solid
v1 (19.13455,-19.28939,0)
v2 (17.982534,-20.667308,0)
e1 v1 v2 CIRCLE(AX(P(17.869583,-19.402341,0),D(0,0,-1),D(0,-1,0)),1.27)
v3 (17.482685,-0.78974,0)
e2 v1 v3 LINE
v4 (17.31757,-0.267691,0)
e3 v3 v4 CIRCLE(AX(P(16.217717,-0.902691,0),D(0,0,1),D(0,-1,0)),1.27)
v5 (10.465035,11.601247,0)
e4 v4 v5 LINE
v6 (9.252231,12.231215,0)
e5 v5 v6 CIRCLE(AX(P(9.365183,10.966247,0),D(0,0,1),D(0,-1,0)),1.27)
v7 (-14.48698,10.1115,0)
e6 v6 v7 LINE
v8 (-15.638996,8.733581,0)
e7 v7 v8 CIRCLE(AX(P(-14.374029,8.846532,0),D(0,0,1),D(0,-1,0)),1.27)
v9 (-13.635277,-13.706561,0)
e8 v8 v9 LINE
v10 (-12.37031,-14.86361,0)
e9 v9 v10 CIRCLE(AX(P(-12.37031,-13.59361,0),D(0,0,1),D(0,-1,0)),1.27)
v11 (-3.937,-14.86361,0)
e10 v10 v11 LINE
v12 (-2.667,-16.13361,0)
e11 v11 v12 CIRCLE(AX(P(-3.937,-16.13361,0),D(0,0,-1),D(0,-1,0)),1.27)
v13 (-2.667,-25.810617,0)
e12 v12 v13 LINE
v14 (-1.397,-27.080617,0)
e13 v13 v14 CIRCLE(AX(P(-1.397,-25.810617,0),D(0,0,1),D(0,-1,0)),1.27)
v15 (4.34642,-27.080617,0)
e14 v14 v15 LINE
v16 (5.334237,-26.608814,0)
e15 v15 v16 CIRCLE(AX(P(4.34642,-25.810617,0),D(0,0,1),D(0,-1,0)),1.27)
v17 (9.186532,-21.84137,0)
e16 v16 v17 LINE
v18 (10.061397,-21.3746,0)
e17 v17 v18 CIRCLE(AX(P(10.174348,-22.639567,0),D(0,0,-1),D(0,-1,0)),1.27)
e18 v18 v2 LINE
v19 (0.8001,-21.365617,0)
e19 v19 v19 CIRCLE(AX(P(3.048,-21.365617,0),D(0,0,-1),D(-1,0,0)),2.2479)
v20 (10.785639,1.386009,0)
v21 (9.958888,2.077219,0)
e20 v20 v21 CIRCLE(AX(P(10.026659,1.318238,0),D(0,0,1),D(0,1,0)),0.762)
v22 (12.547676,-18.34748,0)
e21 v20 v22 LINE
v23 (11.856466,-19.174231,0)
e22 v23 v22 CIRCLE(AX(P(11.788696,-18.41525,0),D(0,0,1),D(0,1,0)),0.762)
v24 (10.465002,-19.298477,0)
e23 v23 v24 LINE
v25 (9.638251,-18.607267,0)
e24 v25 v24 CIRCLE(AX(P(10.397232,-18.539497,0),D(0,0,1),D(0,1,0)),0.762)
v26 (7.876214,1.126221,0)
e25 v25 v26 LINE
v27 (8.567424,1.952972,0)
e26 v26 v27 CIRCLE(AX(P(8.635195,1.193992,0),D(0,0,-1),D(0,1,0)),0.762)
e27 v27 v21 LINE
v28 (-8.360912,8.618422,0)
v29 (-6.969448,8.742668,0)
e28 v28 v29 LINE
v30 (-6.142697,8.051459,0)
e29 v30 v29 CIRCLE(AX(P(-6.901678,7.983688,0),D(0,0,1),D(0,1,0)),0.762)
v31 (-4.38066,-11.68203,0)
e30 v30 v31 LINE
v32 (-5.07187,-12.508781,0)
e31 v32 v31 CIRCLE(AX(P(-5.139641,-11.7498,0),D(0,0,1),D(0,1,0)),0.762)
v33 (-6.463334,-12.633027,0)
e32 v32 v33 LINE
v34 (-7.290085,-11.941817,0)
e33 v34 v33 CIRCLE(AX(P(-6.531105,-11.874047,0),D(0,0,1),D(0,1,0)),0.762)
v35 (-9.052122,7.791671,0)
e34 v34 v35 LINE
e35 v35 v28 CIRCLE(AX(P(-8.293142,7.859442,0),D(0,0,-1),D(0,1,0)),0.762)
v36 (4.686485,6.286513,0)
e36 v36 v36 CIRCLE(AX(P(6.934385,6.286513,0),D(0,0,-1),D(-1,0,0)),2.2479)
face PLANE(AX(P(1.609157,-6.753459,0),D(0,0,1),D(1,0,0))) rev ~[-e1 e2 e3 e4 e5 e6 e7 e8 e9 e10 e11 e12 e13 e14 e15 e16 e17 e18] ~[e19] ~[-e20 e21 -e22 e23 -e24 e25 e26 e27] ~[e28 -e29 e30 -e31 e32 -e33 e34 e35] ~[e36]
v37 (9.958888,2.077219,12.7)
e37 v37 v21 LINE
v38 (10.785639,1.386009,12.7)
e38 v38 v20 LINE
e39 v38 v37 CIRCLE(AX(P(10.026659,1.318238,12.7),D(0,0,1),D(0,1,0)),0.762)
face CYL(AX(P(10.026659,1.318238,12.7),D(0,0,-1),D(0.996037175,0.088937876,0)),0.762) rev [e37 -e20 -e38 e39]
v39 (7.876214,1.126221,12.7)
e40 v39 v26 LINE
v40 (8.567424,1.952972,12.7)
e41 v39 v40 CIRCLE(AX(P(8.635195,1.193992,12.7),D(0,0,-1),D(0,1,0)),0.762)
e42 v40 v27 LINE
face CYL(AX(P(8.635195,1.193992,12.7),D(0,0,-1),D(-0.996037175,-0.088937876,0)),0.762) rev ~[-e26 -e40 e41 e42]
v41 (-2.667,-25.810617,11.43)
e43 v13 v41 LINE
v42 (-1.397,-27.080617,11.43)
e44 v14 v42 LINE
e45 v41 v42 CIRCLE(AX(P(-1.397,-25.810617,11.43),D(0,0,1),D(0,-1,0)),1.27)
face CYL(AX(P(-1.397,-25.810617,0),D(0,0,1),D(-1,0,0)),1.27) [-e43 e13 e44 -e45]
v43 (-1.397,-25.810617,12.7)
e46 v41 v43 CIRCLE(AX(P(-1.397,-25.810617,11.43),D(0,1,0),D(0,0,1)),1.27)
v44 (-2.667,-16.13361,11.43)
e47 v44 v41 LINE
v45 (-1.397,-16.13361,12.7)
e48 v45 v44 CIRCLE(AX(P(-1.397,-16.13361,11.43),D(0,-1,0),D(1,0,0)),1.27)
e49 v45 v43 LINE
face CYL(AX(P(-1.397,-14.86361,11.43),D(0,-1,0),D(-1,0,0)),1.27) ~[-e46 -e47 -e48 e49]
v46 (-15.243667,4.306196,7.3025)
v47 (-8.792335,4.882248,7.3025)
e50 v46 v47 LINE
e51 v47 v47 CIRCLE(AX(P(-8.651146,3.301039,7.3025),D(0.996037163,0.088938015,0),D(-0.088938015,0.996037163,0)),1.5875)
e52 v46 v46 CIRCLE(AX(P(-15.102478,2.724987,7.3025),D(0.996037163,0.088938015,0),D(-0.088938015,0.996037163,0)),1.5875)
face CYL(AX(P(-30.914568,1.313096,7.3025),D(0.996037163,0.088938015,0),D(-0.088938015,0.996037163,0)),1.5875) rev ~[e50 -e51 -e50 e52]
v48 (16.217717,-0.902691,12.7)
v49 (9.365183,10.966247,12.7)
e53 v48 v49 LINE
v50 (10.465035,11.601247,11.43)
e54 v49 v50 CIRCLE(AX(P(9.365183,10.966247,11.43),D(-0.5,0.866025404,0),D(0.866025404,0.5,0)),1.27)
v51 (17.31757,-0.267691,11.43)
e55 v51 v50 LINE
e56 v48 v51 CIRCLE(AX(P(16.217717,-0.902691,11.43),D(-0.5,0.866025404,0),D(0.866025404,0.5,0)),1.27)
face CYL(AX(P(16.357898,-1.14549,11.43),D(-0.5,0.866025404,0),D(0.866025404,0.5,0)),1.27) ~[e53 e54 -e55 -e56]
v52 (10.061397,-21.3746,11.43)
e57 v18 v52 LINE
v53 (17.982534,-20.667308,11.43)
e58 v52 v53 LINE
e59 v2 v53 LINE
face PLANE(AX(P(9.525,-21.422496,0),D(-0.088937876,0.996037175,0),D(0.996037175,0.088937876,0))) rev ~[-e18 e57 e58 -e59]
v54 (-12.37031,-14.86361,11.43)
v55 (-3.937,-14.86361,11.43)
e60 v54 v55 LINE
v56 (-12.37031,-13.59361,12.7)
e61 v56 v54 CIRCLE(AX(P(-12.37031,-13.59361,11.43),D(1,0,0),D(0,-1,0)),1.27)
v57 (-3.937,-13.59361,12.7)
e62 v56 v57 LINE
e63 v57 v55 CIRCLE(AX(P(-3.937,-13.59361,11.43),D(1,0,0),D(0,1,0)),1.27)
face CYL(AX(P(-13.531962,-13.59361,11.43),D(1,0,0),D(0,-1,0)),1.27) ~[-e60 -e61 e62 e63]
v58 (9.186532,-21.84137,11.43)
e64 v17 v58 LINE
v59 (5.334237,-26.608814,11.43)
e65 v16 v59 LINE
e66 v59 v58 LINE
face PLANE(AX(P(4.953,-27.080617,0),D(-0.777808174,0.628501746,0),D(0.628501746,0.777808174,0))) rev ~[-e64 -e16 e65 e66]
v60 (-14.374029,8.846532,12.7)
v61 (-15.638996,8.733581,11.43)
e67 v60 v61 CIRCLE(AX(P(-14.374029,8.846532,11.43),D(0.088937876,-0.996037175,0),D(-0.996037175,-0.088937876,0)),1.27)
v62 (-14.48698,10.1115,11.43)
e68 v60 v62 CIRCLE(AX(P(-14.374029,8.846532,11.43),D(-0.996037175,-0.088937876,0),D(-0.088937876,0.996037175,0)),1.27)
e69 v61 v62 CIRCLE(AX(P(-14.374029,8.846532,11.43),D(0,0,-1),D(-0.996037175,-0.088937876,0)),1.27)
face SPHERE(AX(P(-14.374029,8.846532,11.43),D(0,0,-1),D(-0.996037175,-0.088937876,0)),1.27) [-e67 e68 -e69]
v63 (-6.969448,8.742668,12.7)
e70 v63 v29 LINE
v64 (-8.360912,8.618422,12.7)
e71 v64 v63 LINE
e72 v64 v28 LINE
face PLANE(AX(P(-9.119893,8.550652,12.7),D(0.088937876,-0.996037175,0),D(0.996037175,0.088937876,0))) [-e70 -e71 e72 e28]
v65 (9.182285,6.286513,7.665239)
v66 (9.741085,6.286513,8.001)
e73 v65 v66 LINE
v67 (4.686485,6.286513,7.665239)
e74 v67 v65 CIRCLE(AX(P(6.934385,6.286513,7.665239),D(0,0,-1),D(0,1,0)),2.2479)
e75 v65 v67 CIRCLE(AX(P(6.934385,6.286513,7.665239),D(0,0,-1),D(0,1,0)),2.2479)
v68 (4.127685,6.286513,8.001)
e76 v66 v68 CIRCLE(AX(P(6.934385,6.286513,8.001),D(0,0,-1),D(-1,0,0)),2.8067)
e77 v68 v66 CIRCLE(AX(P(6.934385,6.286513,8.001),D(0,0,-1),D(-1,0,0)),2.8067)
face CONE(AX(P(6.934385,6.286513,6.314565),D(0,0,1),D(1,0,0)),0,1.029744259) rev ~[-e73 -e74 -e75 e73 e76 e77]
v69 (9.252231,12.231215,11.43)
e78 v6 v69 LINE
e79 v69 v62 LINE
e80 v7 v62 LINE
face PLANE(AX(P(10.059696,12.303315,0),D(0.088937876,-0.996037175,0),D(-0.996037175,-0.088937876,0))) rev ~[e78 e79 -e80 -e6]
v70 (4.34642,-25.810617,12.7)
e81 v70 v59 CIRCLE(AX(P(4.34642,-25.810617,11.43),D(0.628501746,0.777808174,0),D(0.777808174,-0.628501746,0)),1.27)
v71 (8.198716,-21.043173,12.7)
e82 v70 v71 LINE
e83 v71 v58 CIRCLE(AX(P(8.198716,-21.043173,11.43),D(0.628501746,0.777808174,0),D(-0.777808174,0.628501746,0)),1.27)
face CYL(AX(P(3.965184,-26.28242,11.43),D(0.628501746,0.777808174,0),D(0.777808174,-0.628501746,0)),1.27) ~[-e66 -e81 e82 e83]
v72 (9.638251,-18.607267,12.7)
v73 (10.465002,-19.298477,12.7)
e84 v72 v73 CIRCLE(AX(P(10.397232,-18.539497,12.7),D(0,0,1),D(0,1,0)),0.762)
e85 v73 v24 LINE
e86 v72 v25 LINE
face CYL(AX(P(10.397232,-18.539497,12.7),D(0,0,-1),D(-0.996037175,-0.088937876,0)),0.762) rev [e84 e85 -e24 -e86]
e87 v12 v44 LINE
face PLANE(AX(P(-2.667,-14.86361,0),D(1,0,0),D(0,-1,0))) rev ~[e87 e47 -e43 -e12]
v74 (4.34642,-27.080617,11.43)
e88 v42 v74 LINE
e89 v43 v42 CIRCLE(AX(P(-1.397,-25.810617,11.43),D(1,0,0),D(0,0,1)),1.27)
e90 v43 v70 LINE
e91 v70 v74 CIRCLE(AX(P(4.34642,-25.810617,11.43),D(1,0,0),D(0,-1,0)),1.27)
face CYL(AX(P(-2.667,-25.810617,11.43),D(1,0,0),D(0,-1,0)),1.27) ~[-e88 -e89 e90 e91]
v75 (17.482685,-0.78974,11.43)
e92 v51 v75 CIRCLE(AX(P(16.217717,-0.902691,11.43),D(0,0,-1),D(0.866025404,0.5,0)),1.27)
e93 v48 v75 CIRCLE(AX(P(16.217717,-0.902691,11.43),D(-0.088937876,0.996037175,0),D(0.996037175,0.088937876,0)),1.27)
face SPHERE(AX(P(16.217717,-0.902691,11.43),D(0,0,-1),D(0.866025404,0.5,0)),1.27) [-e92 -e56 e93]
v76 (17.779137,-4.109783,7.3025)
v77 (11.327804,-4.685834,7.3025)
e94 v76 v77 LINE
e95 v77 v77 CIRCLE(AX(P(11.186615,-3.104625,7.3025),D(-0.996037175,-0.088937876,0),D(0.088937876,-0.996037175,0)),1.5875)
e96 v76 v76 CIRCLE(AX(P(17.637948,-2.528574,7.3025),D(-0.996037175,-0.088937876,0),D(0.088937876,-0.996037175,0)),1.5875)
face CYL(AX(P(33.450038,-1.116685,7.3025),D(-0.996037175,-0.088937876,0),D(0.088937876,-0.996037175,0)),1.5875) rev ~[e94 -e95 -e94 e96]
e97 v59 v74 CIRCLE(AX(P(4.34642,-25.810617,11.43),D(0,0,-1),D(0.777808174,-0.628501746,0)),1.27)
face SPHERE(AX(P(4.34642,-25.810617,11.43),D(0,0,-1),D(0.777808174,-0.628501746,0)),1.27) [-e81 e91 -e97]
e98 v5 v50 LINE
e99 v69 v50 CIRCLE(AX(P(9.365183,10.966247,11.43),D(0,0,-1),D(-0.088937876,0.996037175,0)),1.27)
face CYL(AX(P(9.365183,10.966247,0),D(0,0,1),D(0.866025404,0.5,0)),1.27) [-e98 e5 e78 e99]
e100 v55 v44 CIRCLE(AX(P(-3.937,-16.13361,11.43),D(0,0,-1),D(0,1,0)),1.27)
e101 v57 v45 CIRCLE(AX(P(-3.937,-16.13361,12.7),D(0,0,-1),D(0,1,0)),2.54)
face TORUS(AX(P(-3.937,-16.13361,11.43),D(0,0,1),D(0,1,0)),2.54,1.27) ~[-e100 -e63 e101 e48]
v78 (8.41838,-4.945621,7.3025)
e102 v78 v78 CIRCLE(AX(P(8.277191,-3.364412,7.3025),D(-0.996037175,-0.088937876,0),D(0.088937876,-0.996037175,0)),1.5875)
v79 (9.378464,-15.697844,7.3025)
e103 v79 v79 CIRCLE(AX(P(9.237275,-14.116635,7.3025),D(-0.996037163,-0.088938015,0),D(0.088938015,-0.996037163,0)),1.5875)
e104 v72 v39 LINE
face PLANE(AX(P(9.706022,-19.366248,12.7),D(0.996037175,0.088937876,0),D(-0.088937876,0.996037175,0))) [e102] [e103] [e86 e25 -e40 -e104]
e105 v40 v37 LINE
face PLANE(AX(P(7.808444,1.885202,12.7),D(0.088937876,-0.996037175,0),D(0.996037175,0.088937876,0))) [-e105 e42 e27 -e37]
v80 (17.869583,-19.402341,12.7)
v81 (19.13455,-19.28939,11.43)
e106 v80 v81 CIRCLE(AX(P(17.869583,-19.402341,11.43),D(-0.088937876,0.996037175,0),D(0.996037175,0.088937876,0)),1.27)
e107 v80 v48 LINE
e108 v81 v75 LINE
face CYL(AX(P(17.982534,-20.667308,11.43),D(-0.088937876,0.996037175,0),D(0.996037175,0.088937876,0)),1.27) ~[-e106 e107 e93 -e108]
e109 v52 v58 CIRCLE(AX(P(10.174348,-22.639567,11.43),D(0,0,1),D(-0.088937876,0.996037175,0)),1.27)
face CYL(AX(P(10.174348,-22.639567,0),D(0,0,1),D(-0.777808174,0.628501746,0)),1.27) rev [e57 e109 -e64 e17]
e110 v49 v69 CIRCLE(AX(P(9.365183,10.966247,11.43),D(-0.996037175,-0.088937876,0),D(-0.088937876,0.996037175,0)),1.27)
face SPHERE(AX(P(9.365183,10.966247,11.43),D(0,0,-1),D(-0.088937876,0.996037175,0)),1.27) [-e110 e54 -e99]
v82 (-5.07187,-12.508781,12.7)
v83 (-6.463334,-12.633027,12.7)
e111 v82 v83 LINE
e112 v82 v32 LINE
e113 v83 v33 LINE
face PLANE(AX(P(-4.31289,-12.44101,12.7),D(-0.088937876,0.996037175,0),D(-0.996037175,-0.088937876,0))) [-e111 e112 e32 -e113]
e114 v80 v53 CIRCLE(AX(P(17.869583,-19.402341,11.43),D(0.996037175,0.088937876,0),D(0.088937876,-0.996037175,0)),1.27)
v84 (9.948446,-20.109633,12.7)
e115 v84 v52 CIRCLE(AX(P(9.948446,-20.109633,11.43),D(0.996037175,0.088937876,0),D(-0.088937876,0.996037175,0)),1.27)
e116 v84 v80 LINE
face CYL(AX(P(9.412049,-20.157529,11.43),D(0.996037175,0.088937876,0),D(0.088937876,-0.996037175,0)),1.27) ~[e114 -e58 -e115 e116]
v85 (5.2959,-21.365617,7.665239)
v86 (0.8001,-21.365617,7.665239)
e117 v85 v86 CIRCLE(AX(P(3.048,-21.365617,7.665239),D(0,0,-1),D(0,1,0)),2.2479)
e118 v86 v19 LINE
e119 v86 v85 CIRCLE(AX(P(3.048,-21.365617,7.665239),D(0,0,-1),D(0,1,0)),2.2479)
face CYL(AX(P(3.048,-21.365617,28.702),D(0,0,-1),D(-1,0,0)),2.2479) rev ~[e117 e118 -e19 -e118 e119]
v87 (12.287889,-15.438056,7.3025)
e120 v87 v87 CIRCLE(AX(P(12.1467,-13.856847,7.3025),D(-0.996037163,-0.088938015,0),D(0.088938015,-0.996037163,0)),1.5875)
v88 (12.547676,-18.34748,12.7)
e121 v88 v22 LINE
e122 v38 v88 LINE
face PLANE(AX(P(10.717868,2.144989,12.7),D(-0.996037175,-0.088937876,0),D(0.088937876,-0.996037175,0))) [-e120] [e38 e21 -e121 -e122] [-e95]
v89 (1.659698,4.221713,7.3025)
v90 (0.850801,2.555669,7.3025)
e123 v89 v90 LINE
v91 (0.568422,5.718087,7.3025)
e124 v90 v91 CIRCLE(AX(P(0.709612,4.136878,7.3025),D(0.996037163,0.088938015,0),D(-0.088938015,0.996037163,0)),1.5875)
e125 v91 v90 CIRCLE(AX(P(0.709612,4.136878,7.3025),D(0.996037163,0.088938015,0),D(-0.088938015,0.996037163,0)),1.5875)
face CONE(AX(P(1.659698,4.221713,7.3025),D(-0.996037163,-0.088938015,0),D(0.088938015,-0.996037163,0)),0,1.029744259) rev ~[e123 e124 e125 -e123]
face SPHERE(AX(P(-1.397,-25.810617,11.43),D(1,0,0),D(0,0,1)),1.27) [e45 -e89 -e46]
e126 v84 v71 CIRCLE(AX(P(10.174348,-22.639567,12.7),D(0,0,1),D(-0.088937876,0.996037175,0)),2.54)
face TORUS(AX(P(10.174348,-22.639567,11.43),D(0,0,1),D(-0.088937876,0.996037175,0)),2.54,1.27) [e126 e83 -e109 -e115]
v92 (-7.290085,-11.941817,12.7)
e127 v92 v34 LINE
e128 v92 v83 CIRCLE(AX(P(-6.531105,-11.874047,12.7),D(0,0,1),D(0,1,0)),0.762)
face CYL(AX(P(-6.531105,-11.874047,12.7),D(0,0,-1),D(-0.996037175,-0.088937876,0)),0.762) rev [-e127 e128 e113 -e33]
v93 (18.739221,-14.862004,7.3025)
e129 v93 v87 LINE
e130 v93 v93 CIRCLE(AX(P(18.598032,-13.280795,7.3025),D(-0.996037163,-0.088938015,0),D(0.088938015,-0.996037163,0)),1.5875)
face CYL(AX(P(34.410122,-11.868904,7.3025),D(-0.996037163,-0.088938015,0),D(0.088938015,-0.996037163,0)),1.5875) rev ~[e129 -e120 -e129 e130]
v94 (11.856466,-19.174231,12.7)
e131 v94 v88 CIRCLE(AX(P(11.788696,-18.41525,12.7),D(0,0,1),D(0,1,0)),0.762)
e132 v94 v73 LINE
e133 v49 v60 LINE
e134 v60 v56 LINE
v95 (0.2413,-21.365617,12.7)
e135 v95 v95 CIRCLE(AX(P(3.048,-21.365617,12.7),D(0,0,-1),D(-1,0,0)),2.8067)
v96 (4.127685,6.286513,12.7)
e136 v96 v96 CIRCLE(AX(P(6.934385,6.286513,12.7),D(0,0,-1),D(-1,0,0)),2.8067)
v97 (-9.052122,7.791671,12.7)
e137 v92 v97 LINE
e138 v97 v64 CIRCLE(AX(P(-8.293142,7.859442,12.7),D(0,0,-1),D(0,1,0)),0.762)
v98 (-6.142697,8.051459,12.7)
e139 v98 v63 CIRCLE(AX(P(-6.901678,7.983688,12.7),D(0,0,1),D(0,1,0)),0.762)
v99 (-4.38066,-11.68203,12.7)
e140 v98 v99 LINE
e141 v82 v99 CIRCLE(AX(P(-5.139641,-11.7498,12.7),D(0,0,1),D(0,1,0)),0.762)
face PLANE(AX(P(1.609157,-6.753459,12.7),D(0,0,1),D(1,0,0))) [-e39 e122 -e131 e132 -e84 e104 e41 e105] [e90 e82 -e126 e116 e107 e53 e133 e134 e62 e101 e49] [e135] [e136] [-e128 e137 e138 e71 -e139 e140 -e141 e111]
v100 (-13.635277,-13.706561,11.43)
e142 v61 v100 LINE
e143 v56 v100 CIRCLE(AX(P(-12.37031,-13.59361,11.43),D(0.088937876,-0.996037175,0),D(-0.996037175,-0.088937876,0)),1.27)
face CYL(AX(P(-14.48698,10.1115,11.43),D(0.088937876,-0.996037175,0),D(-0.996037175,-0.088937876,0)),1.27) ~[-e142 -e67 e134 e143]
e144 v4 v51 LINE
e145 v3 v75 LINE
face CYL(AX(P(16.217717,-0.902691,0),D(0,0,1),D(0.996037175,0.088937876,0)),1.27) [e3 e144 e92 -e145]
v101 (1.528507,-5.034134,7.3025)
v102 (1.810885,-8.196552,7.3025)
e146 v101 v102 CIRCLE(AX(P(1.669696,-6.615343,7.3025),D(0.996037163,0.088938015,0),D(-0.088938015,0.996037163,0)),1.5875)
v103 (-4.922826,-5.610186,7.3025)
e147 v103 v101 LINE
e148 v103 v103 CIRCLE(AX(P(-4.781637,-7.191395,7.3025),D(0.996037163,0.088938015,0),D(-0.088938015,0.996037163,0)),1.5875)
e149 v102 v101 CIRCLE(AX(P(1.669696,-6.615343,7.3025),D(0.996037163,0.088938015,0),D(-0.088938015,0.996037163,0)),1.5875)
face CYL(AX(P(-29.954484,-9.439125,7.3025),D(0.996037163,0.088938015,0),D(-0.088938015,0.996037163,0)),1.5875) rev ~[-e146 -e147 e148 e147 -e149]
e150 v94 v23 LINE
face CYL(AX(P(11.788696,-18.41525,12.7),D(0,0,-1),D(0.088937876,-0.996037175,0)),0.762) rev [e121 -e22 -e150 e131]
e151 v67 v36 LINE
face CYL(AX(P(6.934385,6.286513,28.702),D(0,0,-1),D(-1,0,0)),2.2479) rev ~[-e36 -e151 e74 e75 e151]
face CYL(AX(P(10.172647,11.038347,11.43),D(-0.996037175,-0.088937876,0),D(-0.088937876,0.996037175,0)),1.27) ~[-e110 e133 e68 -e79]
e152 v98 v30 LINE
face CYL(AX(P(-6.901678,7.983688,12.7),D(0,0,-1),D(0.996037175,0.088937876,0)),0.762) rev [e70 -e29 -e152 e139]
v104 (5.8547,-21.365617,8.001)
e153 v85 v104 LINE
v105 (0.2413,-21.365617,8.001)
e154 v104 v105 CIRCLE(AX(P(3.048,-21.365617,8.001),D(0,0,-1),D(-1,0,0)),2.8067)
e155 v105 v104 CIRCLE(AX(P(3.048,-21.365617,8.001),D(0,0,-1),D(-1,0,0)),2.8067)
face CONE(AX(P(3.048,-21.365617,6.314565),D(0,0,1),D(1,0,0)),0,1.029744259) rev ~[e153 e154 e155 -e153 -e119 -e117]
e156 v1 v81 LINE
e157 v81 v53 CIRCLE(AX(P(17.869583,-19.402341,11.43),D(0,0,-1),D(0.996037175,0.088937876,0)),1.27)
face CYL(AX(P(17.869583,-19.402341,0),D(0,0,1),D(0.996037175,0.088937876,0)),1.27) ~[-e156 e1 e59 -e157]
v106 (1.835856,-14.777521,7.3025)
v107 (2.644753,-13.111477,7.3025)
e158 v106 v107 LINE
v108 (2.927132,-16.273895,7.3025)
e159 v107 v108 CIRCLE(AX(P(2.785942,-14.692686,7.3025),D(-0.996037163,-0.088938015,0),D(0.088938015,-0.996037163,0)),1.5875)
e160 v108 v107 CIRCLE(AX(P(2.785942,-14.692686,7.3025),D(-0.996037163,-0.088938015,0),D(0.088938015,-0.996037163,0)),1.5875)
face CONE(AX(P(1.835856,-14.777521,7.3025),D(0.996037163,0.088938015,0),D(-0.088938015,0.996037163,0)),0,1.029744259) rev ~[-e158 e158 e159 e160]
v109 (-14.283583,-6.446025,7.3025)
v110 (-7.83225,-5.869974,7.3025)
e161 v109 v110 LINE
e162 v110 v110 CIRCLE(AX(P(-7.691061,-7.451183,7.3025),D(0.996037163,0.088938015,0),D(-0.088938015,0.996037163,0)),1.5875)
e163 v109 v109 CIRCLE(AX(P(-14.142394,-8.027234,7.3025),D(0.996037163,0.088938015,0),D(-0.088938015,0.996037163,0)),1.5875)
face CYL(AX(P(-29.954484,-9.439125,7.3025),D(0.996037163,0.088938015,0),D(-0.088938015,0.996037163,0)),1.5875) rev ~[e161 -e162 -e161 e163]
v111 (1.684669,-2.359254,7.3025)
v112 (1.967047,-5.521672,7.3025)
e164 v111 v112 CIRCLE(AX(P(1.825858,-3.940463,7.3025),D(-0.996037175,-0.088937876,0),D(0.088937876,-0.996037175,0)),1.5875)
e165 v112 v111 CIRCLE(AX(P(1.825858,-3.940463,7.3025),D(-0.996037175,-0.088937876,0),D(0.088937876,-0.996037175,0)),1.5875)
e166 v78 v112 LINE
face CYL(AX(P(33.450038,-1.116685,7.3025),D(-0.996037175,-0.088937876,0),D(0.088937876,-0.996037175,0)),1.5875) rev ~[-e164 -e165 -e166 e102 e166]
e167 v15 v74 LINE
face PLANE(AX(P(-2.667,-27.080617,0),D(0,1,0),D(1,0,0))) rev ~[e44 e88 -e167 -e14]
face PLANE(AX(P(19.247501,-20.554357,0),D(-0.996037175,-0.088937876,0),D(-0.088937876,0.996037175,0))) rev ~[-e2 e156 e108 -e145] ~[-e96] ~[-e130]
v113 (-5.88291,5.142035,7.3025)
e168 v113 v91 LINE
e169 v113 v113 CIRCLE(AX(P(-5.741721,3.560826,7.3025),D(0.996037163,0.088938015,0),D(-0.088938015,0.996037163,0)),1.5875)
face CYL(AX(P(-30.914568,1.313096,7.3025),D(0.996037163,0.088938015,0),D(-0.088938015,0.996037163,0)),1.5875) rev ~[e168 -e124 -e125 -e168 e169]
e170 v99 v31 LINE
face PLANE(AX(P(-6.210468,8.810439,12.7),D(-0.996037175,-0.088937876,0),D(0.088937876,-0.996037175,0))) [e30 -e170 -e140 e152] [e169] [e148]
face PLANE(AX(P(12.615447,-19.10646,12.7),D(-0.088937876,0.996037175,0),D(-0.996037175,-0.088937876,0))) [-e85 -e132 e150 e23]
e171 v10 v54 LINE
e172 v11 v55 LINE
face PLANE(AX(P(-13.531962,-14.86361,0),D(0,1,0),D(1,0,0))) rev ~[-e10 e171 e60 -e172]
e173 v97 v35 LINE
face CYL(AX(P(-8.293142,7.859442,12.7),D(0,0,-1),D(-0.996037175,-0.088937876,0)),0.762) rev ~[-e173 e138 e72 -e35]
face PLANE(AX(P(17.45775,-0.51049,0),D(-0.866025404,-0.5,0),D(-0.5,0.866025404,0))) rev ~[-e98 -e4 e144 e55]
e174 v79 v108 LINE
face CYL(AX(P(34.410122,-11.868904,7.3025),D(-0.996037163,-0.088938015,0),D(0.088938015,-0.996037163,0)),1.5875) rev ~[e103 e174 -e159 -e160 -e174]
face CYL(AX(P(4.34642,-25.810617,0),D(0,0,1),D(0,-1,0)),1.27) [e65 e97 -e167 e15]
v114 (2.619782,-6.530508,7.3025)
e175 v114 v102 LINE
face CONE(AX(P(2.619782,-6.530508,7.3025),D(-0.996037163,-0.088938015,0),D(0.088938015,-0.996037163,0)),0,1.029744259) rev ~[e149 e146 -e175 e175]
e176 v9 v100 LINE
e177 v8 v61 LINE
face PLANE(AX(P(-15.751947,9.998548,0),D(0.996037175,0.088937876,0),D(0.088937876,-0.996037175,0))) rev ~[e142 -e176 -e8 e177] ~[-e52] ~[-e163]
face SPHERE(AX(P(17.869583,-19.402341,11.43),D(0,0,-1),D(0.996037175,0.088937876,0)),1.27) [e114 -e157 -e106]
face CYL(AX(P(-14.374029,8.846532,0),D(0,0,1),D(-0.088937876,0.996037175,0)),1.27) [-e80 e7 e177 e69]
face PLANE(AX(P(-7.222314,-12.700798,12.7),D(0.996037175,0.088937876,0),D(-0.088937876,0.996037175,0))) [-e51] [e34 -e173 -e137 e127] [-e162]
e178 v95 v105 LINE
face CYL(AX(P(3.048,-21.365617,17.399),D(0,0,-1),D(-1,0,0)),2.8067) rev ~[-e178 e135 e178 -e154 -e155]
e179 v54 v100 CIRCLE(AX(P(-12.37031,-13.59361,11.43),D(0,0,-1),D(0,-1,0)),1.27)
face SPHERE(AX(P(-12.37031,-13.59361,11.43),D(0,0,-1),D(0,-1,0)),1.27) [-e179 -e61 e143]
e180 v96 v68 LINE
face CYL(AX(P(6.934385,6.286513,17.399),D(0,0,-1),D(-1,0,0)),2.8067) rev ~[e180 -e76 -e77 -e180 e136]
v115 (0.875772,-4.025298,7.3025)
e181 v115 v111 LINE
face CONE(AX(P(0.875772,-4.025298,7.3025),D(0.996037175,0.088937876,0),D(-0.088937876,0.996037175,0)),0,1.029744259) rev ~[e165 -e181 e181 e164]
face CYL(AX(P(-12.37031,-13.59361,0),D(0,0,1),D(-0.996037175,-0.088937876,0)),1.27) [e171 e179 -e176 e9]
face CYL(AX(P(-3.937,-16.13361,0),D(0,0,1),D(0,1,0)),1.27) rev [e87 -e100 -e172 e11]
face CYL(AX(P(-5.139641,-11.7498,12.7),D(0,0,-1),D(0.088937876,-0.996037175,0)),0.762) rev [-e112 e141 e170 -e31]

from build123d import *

# Parameters (mm, degrees)
BOSS_EXTRUDE1_DEPTH                      = 12.7
FILLET1_R                                = 1.27
CUT_EXTRUDE1_DEPTH                       = 13.7
FILLET2_R                                = 0.762
F_1_8_0_1250_DOWEL_HOLE1_D               = 3.175
F_1_8_0_1250_DOWEL_HOLE1_DEPTH           = 15.875
F_1_8_0_1250_DOWEL_HOLE1_TIP             = 0.953866233
F_1_8_0_1250_DOWEL_HOLE1_ON_FACE_2_D     = 3.175
F_1_8_0_1250_DOWEL_HOLE1_ON_FACE_2_DEPTH = 15.875
F_1_8_0_1250_DOWEL_HOLE1_ON_FACE_2_TIP   = 0.953866233
F_1_8_0_1250_DOWEL_HOLE1_ON_FACE_3_D     = 3.175
F_1_8_0_1250_DOWEL_HOLE1_ON_FACE_3_DEPTH = 15.875
F_1_8_0_1250_DOWEL_HOLE1_ON_FACE_3_TIP   = 0.953866233
F_1_8_0_1250_DOWEL_HOLE1_ON_FACE_4_D     = 3.175
F_1_8_0_1250_DOWEL_HOLE1_ON_FACE_4_DEPTH = 15.875
F_1_8_0_1250_DOWEL_HOLE1_ON_FACE_4_TIP   = 0.953866233
F_8_CLEARANCE_HOLE1_D                    = 4.4958
F_8_CLEARANCE_HOLE1_DEPTH                = 16.002
F_8_CLEARANCE_HOLE1_TIP                  = 1.350674586
F_2_0_221_DIAMETER_HOLE1_D               = 5.6134
F_2_0_221_DIAMETER_HOLE1_DEPTH           = 4.699
F_2_0_221_DIAMETER_HOLE1_TIP             = 1.686435499


with BuildPart() as part:
    # Sketch1 → Boss-Extrude1 (new body)
    with BuildSketch(Plane.XY):
        Polygon((19.247501297, -20.554356895), (17.457749907, -0.510490359), (10.059696167, 12.303314596), (-15.751947283, 9.998548464), (-13.531962325, -14.863609733), (-2.667, -14.863609733), (-2.667, -27.080616861), (4.953, -27.080616861), (9.525, -21.422495793), align=None)
    extrude(amount=BOSS_EXTRUDE1_DEPTH)

    # Fillet1
    fillet1_edges = [part.edges().sort_by_distance(p)[0] for p in [
        (1.143, -27.080616861, 12.7),
        (-2.667, -20.972113297, 12.7),
        (19.247501297, -20.554356895, 6.35),
        (17.457749907, -0.510490359, 6.35),
        (10.059696167, 12.303314596, 6.35),
        (-15.751947283, 9.998548464, 6.35),
        (-13.531962325, -14.863609733, 6.35),
        (-2.667, -14.863609733, 6.35),
        (-2.667, -27.080616861, 6.35),
        (4.953, -27.080616861, 6.35),
        (9.525, -21.422495793, 6.35),
        (-8.099481163, -14.863609733, 12.7),
        (-14.641954804, -2.432530634, 12.7),
        (-2.846125558, 11.15093153, 12.7),
        (13.758723037, 5.896412118, 12.7),
        (18.352625602, -10.532423627, 12.7),
        (14.386250649, -20.988426344, 12.7),
        (7.239, -24.251556327, 12.7),
    ]]
    fillet(fillet1_edges, radius=FILLET1_R)

    # Sketch2 → Cut-Extrude1 (cut, through all)
    with BuildSketch(Plane.XY.offset(12.7)):
        Polygon((-9.119892735, 8.550651548), (-6.210468147, 8.810439084), (-4.312889622, -12.441010084), (-7.22231421, -12.70079762), align=None)
        Polygon((7.808443636, 1.885201654), (10.717868225, 2.14498919), (12.61544675, -19.106459978), (9.706022161, -19.366247515), align=None)
    extrude(amount=-CUT_EXTRUDE1_DEPTH, mode=Mode.SUBTRACT)

    # Fillet2
    fillet2_edges = [part.edges().sort_by_distance(p)[0] for p in [
        (9.706022161, -19.366247515, 6.35),
        (7.808443636, 1.885201654, 6.35),
        (10.717868225, 2.14498919, 6.35),
        (12.61544675, -19.106459978, 6.35),
        (-7.22231421, -12.70079762, 6.35),
        (-9.119892735, 8.550651548, 6.35),
        (-6.210468147, 8.810439084, 6.35),
        (-4.312889622, -12.441010084, 6.35),
    ]]
    fillet(fillet2_edges, radius=FILLET2_R)

    # 1/8 (0.1250) Dowel Hole1
    with Locations(Plane(origin=(17.637948084, -2.528574118, 7.3025), x_dir=(-0.088937876, 0.996037175, 0), z_dir=(0.996037175, 0.088937876, 0))):
        with Locations((0, 0)):
            Hole(F_1_8_0_1250_DOWEL_HOLE1_D / 2, depth=F_1_8_0_1250_DOWEL_HOLE1_DEPTH)
            with Locations((0, 0, -(F_1_8_0_1250_DOWEL_HOLE1_DEPTH + F_1_8_0_1250_DOWEL_HOLE1_TIP / 2))):  # 118° drill point
                Cone(0, F_1_8_0_1250_DOWEL_HOLE1_D / 2, F_1_8_0_1250_DOWEL_HOLE1_TIP, mode=Mode.SUBTRACT)

    # 1/8 (0.1250) Dowel Hole1 on face 2
    with Locations(Plane(origin=(18.598032457, -13.280795423, 7.3025), x_dir=(-0.088938015, 0.996037163, 0), z_dir=(0.996037163, 0.088938015, 0))):
        with Locations((0, 0)):
            Hole(F_1_8_0_1250_DOWEL_HOLE1_ON_FACE_2_D / 2, depth=F_1_8_0_1250_DOWEL_HOLE1_ON_FACE_2_DEPTH)
            with Locations((0, 0, -(F_1_8_0_1250_DOWEL_HOLE1_ON_FACE_2_DEPTH + F_1_8_0_1250_DOWEL_HOLE1_ON_FACE_2_TIP / 2))):  # 118° drill point
                Cone(0, F_1_8_0_1250_DOWEL_HOLE1_ON_FACE_2_D / 2, F_1_8_0_1250_DOWEL_HOLE1_ON_FACE_2_TIP, mode=Mode.SUBTRACT)

    # 1/8 (0.1250) Dowel Hole1 on face 3
    with Locations(Plane(origin=(-15.102478442, 2.724986993, 7.3025), x_dir=(0.088938015, -0.996037163, 0), z_dir=(-0.996037163, -0.088938015, 0))):
        with Locations((0, 0)):
            Hole(F_1_8_0_1250_DOWEL_HOLE1_ON_FACE_3_D / 2, depth=F_1_8_0_1250_DOWEL_HOLE1_ON_FACE_3_DEPTH)
            with Locations((0, 0, -(F_1_8_0_1250_DOWEL_HOLE1_ON_FACE_3_DEPTH + F_1_8_0_1250_DOWEL_HOLE1_ON_FACE_3_TIP / 2))):  # 118° drill point
                Cone(0, F_1_8_0_1250_DOWEL_HOLE1_ON_FACE_3_D / 2, F_1_8_0_1250_DOWEL_HOLE1_ON_FACE_3_TIP, mode=Mode.SUBTRACT)

    # 1/8 (0.1250) Dowel Hole1 on face 4
    with Locations(Plane(origin=(-14.14239407, -8.027234313, 7.3025), x_dir=(0.088938015, -0.996037163, 0), z_dir=(-0.996037163, -0.088938015, 0))):
        with Locations((0, 0)):
            Hole(F_1_8_0_1250_DOWEL_HOLE1_ON_FACE_4_D / 2, depth=F_1_8_0_1250_DOWEL_HOLE1_ON_FACE_4_DEPTH)
            with Locations((0, 0, -(F_1_8_0_1250_DOWEL_HOLE1_ON_FACE_4_DEPTH + F_1_8_0_1250_DOWEL_HOLE1_ON_FACE_4_TIP / 2))):  # 118° drill point
                Cone(0, F_1_8_0_1250_DOWEL_HOLE1_ON_FACE_4_D / 2, F_1_8_0_1250_DOWEL_HOLE1_ON_FACE_4_TIP, mode=Mode.SUBTRACT)

    # #8 Clearance Hole1
    with Locations(Plane.XY.offset(12.7)):
        with Locations((6.934384891, 6.286512516), (3.048, -21.365616861)):
            Hole(F_8_CLEARANCE_HOLE1_D / 2, depth=F_8_CLEARANCE_HOLE1_DEPTH)
            with Locations((0, 0, -(F_8_CLEARANCE_HOLE1_DEPTH + F_8_CLEARANCE_HOLE1_TIP / 2))):  # 118° drill point
                Cone(0, F_8_CLEARANCE_HOLE1_D / 2, F_8_CLEARANCE_HOLE1_TIP, mode=Mode.SUBTRACT)

    # #2 (0.221) Diameter Hole1
    with Locations(Plane.XY.offset(12.7)):
        with Locations((6.934384891, 6.286512516), (3.048, -21.365616861)):
            Hole(F_2_0_221_DIAMETER_HOLE1_D / 2, depth=F_2_0_221_DIAMETER_HOLE1_DEPTH)
            with Locations((0, 0, -(F_2_0_221_DIAMETER_HOLE1_DEPTH + F_2_0_221_DIAMETER_HOLE1_TIP / 2))):  # 118° drill point
                Cone(0, F_2_0_221_DIAMETER_HOLE1_D / 2, F_2_0_221_DIAMETER_HOLE1_TIP, mode=Mode.SUBTRACT)


solid = part.part
